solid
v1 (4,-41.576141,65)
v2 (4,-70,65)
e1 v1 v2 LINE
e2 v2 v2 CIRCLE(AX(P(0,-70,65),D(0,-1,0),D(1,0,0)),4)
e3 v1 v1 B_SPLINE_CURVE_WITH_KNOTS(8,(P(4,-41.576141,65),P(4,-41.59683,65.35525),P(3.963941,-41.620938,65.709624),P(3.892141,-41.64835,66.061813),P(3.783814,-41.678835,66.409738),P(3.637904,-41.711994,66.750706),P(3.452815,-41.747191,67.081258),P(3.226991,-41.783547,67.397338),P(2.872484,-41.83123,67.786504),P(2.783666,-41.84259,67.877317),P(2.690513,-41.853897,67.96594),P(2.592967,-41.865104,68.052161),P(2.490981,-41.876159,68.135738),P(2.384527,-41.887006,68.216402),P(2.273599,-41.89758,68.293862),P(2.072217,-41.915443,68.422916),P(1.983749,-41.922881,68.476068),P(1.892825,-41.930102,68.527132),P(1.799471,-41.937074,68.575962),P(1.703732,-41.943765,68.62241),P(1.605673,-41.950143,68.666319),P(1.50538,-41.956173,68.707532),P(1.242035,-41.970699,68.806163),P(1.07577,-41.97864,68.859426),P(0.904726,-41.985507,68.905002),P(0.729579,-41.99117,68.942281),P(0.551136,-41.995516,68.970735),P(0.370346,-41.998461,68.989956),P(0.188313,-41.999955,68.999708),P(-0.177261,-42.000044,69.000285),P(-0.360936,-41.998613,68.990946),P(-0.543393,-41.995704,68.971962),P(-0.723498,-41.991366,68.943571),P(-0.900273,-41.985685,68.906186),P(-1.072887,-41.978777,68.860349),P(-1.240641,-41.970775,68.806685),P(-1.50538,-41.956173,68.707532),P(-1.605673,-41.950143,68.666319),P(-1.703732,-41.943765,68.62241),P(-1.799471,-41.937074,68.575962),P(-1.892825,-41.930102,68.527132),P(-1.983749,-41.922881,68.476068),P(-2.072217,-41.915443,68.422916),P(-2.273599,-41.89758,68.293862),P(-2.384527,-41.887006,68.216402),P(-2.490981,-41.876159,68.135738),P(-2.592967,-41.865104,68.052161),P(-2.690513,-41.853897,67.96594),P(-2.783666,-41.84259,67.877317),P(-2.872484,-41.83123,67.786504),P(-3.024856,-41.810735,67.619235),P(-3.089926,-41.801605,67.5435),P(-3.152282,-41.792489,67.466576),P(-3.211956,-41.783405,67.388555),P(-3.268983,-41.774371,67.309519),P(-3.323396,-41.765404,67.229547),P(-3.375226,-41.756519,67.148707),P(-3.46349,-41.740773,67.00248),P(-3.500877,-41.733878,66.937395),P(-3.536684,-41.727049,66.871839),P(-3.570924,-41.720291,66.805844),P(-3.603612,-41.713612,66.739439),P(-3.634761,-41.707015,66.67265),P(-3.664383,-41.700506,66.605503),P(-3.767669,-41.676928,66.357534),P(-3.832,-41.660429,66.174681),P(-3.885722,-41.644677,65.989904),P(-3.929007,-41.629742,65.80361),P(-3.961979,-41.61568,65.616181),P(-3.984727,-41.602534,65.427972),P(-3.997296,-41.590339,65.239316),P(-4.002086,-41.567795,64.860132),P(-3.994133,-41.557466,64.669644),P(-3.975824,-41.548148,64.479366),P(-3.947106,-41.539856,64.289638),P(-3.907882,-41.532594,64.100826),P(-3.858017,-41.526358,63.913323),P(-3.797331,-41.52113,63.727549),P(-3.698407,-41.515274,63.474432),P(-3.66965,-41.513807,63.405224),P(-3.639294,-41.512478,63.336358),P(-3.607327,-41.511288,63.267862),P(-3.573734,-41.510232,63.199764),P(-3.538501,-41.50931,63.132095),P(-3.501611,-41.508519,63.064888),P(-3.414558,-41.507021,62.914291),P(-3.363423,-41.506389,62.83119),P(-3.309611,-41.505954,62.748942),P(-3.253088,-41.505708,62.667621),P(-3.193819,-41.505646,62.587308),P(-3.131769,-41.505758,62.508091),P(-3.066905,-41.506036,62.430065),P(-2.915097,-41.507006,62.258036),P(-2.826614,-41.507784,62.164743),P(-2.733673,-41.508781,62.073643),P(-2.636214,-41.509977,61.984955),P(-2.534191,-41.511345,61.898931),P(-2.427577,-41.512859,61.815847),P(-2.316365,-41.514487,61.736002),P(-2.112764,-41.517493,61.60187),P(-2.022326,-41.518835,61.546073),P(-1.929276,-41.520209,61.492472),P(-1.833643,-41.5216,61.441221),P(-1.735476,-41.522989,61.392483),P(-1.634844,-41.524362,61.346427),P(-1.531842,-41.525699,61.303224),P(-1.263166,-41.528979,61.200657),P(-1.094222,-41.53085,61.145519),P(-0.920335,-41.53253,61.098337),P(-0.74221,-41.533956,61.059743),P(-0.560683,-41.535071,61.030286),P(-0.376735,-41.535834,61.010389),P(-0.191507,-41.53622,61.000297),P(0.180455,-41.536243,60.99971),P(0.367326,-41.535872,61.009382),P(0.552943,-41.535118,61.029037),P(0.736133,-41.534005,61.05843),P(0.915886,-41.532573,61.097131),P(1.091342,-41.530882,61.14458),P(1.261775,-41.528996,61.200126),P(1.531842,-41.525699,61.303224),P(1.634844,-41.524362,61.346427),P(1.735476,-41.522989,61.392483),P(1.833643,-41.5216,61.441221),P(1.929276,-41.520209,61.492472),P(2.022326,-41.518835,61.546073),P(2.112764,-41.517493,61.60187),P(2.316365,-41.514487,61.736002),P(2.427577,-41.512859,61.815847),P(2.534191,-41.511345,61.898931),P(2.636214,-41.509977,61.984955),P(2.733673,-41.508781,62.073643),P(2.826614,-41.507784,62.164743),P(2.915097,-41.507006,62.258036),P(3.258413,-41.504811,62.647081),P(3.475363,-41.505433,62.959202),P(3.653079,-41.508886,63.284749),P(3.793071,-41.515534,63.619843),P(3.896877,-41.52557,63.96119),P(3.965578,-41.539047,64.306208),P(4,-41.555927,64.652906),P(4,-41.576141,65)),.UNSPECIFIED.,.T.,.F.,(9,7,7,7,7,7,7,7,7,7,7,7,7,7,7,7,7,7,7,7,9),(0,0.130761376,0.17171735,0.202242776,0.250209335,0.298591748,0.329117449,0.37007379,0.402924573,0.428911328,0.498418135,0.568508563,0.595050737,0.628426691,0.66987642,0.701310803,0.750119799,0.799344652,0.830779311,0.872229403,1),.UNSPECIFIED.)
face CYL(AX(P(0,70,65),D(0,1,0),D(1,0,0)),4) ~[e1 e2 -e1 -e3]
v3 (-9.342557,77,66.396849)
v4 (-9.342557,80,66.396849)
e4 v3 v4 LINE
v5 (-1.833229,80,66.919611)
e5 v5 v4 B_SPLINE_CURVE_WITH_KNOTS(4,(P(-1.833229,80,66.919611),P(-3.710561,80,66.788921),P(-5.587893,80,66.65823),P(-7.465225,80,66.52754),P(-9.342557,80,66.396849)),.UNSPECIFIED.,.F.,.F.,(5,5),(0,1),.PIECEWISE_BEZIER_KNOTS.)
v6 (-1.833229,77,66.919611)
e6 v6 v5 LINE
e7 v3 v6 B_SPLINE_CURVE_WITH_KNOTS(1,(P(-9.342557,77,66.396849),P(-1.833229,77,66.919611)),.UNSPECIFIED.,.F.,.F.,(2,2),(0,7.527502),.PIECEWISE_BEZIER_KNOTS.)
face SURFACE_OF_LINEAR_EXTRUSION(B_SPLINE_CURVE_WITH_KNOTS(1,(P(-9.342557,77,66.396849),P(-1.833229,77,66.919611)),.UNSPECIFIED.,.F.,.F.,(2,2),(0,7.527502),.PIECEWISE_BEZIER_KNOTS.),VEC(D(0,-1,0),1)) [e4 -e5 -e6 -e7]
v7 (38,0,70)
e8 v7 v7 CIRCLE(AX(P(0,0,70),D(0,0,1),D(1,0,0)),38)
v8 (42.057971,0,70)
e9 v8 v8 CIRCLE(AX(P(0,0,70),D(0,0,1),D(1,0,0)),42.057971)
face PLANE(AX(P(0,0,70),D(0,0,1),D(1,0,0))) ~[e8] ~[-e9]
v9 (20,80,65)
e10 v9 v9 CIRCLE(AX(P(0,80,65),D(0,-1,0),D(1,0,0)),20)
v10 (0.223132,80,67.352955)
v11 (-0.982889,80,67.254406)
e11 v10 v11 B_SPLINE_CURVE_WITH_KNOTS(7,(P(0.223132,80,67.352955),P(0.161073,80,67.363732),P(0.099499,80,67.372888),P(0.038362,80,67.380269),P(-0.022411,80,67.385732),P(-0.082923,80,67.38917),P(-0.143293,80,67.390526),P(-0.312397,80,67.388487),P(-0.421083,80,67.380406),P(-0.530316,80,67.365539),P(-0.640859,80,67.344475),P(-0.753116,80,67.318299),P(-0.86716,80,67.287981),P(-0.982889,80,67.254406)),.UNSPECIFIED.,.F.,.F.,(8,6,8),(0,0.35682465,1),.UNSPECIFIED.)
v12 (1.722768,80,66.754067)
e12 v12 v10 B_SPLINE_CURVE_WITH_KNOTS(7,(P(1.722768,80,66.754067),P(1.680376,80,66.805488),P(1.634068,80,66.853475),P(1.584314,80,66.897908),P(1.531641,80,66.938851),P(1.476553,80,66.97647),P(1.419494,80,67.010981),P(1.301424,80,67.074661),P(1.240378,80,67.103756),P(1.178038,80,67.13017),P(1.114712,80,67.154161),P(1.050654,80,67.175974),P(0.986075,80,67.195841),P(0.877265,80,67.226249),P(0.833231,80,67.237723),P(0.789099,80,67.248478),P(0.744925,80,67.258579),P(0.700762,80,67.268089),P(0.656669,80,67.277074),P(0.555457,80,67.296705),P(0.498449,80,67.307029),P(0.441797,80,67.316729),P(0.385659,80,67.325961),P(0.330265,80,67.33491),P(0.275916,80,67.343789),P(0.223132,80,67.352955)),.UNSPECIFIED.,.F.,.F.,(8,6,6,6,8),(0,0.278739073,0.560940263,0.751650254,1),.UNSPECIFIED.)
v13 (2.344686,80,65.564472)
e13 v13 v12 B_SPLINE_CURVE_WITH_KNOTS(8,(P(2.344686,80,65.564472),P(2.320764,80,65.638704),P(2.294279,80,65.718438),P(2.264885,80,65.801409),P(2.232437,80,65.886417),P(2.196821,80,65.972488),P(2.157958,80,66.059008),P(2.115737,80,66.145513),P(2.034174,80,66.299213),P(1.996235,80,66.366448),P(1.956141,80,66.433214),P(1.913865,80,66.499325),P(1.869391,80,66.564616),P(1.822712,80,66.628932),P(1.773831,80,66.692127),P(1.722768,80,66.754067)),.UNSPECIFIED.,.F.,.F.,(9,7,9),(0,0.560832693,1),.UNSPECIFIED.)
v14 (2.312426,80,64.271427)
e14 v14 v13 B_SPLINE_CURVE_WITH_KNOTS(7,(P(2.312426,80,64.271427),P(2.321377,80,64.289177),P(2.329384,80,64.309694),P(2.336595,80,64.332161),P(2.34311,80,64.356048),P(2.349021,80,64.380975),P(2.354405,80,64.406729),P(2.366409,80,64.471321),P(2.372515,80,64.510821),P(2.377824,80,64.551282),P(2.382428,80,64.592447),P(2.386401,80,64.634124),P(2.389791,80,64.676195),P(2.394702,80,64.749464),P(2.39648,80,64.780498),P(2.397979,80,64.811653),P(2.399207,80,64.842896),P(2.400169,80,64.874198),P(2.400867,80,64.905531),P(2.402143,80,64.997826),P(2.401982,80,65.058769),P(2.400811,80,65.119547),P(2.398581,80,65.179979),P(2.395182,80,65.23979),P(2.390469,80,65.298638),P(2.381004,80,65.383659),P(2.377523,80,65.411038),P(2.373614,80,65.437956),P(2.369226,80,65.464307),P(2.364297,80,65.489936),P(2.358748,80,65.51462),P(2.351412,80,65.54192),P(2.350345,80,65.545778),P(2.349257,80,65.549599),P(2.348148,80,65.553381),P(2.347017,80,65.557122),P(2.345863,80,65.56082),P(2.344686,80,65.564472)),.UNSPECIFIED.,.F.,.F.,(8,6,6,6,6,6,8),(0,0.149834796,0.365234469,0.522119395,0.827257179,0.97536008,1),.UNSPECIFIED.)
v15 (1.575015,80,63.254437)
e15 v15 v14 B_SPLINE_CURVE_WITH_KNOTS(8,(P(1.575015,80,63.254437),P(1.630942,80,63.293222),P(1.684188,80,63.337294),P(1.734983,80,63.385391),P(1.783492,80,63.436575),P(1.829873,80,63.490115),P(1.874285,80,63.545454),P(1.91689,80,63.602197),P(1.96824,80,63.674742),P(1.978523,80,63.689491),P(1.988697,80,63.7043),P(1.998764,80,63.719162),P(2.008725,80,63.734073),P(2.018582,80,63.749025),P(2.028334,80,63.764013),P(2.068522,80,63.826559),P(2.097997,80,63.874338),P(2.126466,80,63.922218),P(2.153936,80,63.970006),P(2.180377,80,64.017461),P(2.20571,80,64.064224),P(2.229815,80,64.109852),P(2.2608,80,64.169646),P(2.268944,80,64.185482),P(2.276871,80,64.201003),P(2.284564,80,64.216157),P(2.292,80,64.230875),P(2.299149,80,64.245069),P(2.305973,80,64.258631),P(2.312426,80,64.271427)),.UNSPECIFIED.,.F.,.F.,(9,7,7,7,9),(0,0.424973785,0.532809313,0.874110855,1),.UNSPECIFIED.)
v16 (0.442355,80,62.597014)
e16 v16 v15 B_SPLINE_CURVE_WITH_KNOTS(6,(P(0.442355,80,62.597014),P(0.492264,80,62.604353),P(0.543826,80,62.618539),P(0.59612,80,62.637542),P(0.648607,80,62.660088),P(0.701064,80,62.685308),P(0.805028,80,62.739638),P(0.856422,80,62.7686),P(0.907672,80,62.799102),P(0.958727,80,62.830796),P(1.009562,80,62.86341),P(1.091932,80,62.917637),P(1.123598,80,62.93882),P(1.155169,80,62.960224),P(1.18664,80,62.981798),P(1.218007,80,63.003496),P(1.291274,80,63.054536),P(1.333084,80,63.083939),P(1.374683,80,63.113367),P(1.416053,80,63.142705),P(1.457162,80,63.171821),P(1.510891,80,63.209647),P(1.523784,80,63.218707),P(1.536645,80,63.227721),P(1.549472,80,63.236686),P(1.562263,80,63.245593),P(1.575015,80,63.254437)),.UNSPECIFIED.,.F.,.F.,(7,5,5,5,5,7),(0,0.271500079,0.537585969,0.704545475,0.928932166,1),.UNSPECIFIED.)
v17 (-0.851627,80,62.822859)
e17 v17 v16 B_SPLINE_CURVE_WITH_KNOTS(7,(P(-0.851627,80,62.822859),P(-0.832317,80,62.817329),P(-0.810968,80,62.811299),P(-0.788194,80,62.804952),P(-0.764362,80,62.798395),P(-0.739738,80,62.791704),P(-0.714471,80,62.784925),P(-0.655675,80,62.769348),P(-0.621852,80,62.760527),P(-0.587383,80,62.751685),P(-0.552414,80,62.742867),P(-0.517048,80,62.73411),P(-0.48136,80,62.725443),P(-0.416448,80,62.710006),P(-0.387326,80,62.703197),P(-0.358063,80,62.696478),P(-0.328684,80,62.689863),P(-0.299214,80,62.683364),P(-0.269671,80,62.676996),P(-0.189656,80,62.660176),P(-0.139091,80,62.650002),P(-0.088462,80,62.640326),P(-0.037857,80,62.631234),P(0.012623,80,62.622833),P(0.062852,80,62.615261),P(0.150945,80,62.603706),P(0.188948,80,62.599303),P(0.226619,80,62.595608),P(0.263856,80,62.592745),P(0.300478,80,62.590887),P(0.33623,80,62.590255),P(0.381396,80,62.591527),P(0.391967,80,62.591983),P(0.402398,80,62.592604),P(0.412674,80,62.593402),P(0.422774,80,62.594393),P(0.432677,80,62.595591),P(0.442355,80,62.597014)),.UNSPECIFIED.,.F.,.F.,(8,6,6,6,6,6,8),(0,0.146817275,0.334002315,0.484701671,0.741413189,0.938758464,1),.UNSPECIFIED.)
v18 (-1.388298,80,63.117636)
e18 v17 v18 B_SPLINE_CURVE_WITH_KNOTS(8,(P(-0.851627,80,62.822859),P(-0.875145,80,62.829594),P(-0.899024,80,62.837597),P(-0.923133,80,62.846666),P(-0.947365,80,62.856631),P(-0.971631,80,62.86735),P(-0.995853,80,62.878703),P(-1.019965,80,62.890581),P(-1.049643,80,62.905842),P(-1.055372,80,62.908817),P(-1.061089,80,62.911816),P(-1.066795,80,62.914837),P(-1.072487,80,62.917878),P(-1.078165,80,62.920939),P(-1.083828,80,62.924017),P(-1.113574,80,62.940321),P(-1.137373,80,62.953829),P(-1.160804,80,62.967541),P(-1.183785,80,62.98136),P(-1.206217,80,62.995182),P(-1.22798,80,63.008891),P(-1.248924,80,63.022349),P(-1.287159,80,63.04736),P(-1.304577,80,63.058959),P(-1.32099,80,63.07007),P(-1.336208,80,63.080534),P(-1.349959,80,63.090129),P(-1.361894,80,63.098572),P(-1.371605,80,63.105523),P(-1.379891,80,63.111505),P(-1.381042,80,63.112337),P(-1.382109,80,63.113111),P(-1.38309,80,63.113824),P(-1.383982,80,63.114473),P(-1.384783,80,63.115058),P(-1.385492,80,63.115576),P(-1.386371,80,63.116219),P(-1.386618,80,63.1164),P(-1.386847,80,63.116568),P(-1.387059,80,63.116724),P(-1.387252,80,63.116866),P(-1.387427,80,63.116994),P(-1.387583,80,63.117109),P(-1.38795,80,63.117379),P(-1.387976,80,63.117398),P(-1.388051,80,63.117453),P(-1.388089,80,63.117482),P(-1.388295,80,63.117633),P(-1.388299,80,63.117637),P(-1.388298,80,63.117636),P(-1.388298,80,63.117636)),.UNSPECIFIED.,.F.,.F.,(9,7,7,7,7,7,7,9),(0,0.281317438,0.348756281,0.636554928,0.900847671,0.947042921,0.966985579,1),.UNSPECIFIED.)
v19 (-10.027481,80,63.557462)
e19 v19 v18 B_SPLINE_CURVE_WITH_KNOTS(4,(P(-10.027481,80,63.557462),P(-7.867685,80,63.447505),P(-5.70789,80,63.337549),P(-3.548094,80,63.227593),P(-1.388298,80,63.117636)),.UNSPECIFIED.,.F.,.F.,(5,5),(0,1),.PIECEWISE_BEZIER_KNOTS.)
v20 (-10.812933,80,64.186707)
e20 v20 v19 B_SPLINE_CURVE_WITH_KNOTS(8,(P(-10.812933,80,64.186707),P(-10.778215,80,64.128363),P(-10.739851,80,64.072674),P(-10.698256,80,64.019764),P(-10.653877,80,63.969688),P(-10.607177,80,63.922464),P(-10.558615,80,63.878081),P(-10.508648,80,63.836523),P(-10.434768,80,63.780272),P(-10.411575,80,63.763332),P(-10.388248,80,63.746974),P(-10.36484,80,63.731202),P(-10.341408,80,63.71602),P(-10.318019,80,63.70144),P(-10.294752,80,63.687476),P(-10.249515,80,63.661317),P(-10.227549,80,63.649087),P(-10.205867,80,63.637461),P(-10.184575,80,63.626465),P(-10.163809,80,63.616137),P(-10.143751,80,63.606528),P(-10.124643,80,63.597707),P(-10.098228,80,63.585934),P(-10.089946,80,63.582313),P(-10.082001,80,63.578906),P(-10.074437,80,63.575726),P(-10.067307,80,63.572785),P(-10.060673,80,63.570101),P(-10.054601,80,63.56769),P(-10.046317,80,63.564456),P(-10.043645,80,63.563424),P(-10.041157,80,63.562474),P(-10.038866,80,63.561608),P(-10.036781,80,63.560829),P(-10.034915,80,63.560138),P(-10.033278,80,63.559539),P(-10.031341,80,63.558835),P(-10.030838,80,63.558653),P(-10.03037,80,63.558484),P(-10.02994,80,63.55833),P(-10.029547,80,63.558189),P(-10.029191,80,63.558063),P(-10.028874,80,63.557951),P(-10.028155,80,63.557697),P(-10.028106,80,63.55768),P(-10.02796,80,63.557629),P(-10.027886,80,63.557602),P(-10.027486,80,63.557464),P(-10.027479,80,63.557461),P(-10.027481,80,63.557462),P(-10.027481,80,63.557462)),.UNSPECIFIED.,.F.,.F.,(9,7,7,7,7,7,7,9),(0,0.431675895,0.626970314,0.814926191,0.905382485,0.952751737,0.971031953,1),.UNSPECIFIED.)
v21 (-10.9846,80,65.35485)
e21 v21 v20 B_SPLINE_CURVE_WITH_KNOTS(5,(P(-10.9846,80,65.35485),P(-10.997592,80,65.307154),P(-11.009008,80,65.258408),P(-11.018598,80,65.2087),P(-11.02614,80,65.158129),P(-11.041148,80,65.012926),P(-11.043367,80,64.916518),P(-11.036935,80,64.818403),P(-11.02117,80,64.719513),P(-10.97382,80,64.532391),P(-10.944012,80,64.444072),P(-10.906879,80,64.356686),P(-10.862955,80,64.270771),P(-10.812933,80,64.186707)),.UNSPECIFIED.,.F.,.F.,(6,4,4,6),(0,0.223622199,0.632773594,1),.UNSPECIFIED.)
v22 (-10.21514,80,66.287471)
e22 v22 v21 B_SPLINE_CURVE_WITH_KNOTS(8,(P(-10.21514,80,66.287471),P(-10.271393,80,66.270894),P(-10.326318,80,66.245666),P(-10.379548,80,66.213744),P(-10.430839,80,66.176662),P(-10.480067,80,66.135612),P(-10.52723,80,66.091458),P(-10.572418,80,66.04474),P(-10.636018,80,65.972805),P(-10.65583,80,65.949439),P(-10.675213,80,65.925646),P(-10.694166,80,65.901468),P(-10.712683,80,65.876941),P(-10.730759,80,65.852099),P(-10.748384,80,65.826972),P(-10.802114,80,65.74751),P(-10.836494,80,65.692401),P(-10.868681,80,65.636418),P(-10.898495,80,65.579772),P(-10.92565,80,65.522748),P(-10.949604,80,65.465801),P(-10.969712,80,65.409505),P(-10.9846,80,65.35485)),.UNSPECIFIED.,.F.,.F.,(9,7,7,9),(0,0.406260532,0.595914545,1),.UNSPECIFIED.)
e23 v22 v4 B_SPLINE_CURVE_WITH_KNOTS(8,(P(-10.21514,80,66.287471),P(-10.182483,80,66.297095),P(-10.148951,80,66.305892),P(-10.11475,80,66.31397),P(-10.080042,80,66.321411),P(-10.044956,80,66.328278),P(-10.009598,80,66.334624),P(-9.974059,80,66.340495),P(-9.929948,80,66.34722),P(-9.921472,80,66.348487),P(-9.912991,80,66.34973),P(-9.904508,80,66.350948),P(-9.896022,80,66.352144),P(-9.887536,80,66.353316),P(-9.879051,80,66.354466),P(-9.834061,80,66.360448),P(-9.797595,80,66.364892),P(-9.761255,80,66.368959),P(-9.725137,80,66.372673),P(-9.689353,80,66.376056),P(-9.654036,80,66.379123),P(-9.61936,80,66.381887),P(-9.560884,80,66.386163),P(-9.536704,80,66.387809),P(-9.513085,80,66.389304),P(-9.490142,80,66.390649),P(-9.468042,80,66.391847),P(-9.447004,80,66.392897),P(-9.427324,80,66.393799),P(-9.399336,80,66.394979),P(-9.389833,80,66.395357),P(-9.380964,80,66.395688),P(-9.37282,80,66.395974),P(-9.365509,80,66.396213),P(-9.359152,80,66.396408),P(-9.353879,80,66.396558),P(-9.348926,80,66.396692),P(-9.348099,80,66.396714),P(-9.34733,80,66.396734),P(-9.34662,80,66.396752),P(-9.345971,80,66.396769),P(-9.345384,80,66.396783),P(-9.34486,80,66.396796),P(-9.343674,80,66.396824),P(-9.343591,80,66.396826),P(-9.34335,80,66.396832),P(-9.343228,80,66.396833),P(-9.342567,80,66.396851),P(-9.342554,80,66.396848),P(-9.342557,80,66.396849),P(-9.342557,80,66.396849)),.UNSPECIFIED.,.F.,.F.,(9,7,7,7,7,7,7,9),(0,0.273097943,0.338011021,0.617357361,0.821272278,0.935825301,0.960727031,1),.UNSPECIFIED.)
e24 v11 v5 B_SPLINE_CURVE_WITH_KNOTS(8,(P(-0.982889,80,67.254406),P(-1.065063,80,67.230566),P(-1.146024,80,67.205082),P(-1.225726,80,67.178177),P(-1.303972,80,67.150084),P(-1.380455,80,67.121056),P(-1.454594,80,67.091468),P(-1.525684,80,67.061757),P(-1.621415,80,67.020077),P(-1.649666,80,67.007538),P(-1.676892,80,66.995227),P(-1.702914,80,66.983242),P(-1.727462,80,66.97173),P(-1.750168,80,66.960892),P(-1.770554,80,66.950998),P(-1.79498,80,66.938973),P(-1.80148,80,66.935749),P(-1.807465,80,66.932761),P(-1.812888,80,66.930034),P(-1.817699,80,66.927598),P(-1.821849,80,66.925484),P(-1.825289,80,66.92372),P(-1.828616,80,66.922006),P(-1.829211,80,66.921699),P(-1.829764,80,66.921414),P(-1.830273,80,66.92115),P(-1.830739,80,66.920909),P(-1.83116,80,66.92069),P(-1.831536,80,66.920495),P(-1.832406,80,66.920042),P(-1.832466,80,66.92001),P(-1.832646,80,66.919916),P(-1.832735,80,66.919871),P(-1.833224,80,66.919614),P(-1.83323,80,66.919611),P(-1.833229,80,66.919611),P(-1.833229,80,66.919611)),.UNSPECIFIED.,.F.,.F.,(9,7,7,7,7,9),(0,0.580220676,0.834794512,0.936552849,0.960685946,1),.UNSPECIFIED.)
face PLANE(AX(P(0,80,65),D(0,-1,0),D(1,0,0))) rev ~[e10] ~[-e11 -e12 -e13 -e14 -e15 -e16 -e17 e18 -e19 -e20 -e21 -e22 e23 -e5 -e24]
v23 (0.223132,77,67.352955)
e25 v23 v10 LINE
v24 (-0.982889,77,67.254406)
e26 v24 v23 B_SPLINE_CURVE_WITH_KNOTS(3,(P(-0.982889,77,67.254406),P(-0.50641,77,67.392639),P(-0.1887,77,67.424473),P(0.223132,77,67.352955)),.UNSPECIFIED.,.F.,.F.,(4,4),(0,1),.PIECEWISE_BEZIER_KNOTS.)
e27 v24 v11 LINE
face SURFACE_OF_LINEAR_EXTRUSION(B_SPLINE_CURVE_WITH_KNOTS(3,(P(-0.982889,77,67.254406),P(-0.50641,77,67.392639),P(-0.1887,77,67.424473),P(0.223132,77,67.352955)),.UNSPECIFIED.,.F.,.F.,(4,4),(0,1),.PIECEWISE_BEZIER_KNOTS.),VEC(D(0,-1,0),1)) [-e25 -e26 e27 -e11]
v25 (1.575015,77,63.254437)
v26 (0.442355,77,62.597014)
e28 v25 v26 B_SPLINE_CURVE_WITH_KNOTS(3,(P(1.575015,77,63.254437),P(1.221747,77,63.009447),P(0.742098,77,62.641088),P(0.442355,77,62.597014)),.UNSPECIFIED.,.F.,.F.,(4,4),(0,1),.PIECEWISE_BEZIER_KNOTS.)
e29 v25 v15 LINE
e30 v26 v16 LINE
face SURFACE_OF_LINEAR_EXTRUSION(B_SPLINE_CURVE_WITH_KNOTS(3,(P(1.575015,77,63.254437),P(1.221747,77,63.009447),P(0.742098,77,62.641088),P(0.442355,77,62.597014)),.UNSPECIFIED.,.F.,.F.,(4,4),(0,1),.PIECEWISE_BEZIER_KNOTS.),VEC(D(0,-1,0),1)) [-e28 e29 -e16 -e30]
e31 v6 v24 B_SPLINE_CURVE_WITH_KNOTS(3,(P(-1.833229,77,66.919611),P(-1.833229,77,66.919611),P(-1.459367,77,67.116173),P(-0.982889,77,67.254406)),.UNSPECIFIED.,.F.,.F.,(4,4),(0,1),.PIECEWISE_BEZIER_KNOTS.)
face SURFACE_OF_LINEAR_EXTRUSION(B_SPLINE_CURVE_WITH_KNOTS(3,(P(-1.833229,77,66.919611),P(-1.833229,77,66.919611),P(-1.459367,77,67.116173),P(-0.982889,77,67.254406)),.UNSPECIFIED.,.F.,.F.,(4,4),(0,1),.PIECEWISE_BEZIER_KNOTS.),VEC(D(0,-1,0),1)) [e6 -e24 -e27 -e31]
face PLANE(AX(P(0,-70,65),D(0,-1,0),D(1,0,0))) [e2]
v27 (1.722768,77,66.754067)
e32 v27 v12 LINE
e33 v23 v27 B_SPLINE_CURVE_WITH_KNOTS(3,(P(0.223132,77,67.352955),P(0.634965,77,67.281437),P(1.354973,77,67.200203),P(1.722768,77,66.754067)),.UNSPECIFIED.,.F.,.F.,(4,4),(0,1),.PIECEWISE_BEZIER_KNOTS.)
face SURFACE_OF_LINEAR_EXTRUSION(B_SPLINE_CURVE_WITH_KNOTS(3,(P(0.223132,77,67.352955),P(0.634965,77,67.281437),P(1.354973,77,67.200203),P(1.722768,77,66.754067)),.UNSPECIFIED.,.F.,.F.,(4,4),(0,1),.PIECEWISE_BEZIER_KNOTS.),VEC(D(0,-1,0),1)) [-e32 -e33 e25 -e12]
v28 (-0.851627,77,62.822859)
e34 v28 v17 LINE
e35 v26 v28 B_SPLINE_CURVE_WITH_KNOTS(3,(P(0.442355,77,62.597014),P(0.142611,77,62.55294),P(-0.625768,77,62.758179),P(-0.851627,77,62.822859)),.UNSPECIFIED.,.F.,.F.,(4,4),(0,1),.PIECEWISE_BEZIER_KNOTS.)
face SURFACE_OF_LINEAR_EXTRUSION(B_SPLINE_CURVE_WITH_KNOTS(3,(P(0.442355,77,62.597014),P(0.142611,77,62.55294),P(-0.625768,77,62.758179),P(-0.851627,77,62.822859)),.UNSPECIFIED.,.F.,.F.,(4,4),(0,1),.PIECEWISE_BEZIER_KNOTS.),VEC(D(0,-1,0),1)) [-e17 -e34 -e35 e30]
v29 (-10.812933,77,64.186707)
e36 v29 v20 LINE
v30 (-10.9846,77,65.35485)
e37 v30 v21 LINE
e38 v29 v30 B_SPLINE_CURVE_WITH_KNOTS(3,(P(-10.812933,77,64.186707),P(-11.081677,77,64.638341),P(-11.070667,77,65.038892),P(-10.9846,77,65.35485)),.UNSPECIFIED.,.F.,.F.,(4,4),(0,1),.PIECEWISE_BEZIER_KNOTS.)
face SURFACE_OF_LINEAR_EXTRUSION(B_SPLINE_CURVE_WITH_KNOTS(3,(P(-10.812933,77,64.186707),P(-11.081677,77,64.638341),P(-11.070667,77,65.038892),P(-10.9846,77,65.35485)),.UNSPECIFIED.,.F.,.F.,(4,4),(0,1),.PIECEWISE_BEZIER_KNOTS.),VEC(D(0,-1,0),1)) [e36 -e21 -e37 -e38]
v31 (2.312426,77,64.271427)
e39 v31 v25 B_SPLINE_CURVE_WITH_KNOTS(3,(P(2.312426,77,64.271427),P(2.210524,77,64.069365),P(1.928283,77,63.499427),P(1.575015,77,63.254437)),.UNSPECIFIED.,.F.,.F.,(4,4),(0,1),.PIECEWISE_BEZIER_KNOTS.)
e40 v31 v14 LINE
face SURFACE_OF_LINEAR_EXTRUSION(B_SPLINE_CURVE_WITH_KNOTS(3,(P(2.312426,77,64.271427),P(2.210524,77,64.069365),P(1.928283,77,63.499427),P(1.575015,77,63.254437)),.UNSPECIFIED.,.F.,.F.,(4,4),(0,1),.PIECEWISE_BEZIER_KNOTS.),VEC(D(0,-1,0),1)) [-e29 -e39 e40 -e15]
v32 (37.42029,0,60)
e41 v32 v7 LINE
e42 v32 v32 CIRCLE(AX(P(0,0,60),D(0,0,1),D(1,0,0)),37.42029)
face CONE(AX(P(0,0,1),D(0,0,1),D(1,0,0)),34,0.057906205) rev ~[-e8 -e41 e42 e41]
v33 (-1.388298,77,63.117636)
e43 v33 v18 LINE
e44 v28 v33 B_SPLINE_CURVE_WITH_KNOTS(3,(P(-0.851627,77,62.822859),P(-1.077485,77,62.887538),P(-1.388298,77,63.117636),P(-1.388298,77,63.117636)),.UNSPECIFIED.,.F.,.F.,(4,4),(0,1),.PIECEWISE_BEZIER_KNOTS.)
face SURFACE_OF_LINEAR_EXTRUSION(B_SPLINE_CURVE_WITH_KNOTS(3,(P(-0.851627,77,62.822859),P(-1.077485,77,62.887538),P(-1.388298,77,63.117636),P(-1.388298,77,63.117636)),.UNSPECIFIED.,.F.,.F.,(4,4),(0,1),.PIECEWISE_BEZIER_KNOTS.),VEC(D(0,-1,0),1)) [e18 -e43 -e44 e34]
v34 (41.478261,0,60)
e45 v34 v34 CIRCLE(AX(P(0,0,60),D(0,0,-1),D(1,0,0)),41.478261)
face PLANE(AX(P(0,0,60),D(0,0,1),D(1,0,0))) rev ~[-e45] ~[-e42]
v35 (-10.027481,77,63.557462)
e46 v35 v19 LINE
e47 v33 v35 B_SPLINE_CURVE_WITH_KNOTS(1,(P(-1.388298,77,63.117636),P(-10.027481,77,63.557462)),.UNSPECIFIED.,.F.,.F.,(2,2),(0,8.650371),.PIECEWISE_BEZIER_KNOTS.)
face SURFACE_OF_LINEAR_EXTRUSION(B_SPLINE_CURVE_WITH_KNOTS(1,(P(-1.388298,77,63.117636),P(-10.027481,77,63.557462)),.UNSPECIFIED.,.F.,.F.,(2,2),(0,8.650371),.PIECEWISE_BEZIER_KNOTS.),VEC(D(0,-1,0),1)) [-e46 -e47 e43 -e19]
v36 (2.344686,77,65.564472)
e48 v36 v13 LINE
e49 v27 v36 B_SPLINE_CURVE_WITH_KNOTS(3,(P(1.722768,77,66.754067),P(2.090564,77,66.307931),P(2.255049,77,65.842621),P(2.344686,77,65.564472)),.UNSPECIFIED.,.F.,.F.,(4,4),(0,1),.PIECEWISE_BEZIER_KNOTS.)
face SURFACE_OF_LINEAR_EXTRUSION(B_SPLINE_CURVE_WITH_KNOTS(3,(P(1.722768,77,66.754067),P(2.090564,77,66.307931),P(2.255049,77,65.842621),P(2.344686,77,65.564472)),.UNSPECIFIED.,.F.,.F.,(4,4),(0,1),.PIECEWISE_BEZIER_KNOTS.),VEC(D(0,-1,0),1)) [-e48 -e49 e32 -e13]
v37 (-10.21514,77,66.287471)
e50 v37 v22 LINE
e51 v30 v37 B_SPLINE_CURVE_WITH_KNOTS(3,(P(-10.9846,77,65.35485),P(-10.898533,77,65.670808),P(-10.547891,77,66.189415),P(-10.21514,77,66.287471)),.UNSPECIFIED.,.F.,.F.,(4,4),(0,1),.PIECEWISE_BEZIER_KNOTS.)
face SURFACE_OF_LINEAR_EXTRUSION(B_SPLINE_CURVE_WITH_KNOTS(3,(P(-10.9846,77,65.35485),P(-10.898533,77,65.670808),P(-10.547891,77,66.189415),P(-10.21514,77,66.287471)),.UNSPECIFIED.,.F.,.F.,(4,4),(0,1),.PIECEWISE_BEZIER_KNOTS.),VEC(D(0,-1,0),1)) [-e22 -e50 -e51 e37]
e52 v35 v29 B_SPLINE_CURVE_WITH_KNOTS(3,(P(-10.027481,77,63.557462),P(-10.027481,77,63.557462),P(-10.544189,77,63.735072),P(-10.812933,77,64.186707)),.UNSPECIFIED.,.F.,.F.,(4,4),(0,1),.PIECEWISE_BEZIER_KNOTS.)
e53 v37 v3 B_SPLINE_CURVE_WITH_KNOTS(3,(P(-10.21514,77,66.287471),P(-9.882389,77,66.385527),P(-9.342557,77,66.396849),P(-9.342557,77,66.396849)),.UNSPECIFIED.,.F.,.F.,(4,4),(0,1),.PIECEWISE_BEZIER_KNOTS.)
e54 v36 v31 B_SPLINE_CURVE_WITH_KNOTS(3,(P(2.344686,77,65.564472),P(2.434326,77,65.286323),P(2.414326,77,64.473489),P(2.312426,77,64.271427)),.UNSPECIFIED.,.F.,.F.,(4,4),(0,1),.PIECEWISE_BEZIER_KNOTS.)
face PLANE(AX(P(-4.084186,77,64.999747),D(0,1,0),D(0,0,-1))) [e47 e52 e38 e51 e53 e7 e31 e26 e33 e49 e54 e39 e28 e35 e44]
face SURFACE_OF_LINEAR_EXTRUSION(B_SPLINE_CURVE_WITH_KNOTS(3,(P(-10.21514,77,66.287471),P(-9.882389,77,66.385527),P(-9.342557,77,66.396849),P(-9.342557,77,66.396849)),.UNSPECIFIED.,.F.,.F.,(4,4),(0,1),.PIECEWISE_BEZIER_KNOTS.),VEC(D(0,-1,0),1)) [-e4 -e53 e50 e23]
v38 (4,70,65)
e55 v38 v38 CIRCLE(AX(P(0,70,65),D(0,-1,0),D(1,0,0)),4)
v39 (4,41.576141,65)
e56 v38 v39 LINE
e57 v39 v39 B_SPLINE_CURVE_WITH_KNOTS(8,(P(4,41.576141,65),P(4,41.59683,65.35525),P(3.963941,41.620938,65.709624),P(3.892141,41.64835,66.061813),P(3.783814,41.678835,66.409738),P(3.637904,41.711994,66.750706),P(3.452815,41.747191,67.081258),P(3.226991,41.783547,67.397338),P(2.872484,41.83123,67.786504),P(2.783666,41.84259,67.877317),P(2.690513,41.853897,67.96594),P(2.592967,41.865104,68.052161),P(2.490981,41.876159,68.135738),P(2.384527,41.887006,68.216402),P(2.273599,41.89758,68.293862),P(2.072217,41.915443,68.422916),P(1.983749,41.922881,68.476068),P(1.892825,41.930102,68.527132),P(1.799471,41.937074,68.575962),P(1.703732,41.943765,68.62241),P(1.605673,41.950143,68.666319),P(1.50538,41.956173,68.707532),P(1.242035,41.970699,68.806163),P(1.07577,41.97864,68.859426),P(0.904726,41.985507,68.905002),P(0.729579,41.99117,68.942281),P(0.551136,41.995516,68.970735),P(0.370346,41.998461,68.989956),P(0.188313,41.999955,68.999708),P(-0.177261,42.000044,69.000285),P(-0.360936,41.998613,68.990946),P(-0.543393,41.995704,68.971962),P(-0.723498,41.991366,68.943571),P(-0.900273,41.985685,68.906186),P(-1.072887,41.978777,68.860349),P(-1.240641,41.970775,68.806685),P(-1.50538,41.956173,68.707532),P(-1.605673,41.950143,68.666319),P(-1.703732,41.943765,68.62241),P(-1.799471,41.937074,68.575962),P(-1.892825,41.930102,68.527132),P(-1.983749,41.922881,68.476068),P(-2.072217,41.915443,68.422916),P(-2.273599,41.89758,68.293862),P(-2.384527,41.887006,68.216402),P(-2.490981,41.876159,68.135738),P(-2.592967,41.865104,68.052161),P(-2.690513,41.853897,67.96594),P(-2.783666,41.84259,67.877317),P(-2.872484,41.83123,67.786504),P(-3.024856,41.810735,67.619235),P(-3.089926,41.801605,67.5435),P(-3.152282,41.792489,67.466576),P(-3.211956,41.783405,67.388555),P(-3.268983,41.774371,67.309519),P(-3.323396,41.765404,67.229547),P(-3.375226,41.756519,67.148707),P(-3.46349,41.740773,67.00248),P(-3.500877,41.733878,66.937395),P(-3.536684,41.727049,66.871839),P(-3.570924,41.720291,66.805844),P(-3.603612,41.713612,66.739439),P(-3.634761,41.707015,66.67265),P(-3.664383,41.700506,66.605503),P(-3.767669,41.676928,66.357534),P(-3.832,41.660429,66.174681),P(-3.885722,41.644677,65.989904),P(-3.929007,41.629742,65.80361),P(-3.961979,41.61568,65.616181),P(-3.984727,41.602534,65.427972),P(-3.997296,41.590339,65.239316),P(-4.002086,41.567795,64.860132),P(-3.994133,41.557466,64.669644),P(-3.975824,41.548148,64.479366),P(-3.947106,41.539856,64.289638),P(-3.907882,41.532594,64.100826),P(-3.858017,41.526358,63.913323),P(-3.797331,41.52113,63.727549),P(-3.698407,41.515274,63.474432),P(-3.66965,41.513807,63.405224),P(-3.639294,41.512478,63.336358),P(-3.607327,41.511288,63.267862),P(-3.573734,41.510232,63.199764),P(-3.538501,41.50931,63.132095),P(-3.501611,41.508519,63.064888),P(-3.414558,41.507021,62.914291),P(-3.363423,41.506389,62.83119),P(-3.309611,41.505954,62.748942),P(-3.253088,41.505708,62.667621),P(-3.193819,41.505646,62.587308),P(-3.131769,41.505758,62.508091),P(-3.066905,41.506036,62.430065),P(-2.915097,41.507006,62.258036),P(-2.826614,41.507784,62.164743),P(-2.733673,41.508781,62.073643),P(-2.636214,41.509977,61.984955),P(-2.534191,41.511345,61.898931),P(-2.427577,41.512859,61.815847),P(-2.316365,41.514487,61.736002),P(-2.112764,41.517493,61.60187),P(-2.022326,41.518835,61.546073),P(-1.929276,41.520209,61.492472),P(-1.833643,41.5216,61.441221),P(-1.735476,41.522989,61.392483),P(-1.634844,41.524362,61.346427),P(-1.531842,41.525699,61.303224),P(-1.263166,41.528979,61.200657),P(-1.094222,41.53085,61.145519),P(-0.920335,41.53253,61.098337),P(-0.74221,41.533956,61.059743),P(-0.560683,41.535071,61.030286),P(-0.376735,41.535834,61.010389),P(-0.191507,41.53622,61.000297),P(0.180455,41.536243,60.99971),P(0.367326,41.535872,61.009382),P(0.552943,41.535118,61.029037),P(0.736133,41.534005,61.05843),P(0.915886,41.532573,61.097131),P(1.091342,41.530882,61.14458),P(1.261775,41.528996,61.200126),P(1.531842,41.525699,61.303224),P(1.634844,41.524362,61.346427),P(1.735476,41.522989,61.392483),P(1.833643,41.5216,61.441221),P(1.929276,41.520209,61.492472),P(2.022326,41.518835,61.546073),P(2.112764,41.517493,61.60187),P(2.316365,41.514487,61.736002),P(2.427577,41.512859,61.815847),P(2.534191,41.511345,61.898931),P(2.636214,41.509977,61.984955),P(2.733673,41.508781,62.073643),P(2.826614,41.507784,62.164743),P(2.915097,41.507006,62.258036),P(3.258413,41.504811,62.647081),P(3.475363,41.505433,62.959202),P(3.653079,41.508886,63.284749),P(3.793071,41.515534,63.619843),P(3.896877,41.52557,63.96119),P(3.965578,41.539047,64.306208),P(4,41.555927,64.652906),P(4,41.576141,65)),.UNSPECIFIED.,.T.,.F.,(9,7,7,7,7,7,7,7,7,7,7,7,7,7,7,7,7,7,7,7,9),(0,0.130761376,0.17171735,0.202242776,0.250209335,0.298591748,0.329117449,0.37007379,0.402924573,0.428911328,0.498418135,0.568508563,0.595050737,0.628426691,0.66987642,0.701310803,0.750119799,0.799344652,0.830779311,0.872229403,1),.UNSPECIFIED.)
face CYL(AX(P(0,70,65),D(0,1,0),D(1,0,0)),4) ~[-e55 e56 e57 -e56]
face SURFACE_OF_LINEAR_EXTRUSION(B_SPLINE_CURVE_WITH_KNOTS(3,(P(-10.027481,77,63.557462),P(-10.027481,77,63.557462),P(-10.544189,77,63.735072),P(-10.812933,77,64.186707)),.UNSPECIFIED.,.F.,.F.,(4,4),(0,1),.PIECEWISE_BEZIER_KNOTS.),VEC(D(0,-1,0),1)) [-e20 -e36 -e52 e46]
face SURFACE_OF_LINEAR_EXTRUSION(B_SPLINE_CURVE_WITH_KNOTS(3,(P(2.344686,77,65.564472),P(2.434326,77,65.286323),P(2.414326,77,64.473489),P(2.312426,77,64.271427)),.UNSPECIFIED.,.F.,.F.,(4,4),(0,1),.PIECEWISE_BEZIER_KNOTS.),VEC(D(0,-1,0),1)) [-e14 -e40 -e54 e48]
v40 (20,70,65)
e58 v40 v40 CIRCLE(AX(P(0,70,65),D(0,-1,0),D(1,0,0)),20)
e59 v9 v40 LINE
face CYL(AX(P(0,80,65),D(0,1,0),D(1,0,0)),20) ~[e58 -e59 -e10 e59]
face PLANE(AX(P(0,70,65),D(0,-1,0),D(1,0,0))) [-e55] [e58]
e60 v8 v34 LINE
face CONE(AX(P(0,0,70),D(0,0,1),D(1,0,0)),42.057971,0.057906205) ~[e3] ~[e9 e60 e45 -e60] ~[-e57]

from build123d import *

# Parameters (mm, degrees)
EXTRUDE_DEPTH           = 10
EXTRUDE_PLACEMENT_ANGLE = 90
CYLINDER004_R           = 38
CYLINDER004_DEPTH       = 30
CYLINDER003_R           = 4
CYLINDER003_DEPTH       = 140
CYLINDER005_R           = 20
CYLINDER005_DEPTH       = 10
CYLINDER_R              = 46
CYLINDER_DEPTH          = 60


with BuildPart() as extrude_body:
    # path2399 → Extrude (new body)
    with BuildSketch(Plane(origin=(8.682374, 337.01873, 81), x_dir=(0, 1, 0), z_dir=(0, 0, 1))):
        with BuildLine():
            add(Edge.make_bspline(
                [(-1.415579, 5.024931), (-1.938341, -2.484397)],
                knots=[0, 0, 7.527502, 7.527502], degree=1))
            add(Edge.make_bspline(
                [(-1.938341, -2.484397), (-1.938341, -2.484397), (-2.134903, -2.858259), (-2.273136, -3.334737)],
                knots=[0, 0, 0, 0, 1, 1, 1, 1], degree=3))
            add(Edge.make_bspline(
                [(-2.273136, -3.334737), (-2.411369, -3.811216), (-2.443203, -4.128926), (-2.371685, -4.540758)],
                knots=[0, 0, 0, 0, 1, 1, 1, 1], degree=3))
            add(Edge.make_bspline(
                [(-2.371685, -4.540758), (-2.300167, -4.952591), (-2.218933, -5.672599), (-1.772797, -6.040394)],
                knots=[0, 0, 0, 0, 1, 1, 1, 1], degree=3))
            add(Edge.make_bspline(
                [(-1.772797, -6.040394), (-1.326661, -6.40819), (-0.861351, -6.572675), (-0.583202, -6.662312)],
                knots=[0, 0, 0, 0, 1, 1, 1, 1], degree=3))
            add(Edge.make_bspline(
                [(-0.583202, -6.662312), (-0.305053, -6.751952), (0.507781, -6.731952), (0.709843, -6.630052)],
                knots=[0, 0, 0, 0, 1, 1, 1, 1], degree=3))
            add(Edge.make_bspline(
                [(0.709843, -6.630052), (0.911905, -6.52815), (1.481843, -6.245909), (1.726833, -5.892641)],
                knots=[0, 0, 0, 0, 1, 1, 1, 1], degree=3))
            add(Edge.make_bspline(
                [(1.726833, -5.892641), (1.971823, -5.539373), (2.340182, -5.059724), (2.384256, -4.759981)],
                knots=[0, 0, 0, 0, 1, 1, 1, 1], degree=3))
            add(Edge.make_bspline(
                [(2.384256, -4.759981), (2.42833, -4.460237), (2.223091, -3.691858), (2.158411, -3.465999)],
                knots=[0, 0, 0, 0, 1, 1, 1, 1], degree=3))
            add(Edge.make_bspline(
                [(2.158411, -3.465999), (2.093732, -3.240141), (1.863634, -2.929328), (1.863634, -2.929328)],
                knots=[0, 0, 0, 0, 1, 1, 1, 1], degree=3))
            add(Edge.make_bspline(
                [(1.863634, -2.929328), (1.423808, 5.709855)],
                knots=[0, 0, 8.650371, 8.650371], degree=1))
            add(Edge.make_bspline(
                [(1.423808, 5.709855), (1.423808, 5.709855), (1.246198, 6.226563), (0.794563, 6.495307)],
                knots=[0, 0, 0, 0, 1, 1, 1, 1], degree=3))
            add(Edge.make_bspline(
                [(0.794563, 6.495307), (0.342929, 6.764051), (-0.057622, 6.753041), (-0.37358, 6.666974)],
                knots=[0, 0, 0, 0, 1, 1, 1, 1], degree=3))
            add(Edge.make_bspline(
                [(-0.37358, 6.666974), (-0.689538, 6.580907), (-1.208145, 6.230265), (-1.306201, 5.897514)],
                knots=[0, 0, 0, 0, 1, 1, 1, 1], degree=3))
            add(Edge.make_bspline(
                [(-1.306201, 5.897514), (-1.404257, 5.564763), (-1.415579, 5.024931), (-1.415579, 5.024931)],
                knots=[0, 0, 0, 0, 1, 1, 1, 1], degree=3))
        make_face()
    extrude(amount=EXTRUDE_DEPTH)


with BuildPart() as extrude_body_1:
    # Extrude placement: moved
    add(extrude_body.part.moved(Location((-13, -4, 402))).rotate(Axis((-13, -4, 402), (-1, 0, 0)), EXTRUDE_PLACEMENT_ANGLE))


with BuildPart() as cylinder004:
    # Cylinder004 → Cylinder004 (new body)
    with BuildSketch(Plane.XY.offset(56)):
        Circle(CYLINDER004_R)
    extrude(amount=CYLINDER004_DEPTH)


with BuildPart() as cut:
    # Cylinder003 → Cylinder003 (new body)
    with BuildSketch(Plane(origin=(0, 70, 65), x_dir=(1, 0, 0), z_dir=(0, -1, 0))):
        Circle(CYLINDER003_R)
    extrude(amount=CYLINDER003_DEPTH)

    # Cut: cut Cylinder004
    add(cylinder004.part, mode=Mode.SUBTRACT)


with BuildPart() as cut001:
    # Cylinder005 → Cylinder005 (new body)
    with BuildSketch(Plane(origin=(0, 80, 65), x_dir=(1, 0, 0), z_dir=(0, -1, 0))):
        Circle(CYLINDER005_R)
    extrude(amount=CYLINDER005_DEPTH)

    # Fusion: union Cut
    add(cut.part)

    # Cut001: cut Extrude body
    add(extrude_body_1.part, mode=Mode.SUBTRACT)


with BuildPart() as cylinder:
    # Cylinder → Cylinder (new body)
    with BuildSketch(Plane.XY):
        Circle(CYLINDER_R)
    extrude(amount=CYLINDER_DEPTH)


with BuildPart() as fusion001:
    # Sketch → Revolve (revolve)
    with BuildSketch(Plane.XZ):
        Polygon((0, 1), (34, 1), (38, 70), (42.057971, 70), (38, 0), (0, 0), align=None)
    revolve(axis=Axis((0, 0, 0), (0, 0, 1)))

    # Cut002: cut Cylinder
    add(cylinder.part, mode=Mode.SUBTRACT)

    # Fusion001: union Cut001
    add(cut001.part)


solid = fusion001.part
